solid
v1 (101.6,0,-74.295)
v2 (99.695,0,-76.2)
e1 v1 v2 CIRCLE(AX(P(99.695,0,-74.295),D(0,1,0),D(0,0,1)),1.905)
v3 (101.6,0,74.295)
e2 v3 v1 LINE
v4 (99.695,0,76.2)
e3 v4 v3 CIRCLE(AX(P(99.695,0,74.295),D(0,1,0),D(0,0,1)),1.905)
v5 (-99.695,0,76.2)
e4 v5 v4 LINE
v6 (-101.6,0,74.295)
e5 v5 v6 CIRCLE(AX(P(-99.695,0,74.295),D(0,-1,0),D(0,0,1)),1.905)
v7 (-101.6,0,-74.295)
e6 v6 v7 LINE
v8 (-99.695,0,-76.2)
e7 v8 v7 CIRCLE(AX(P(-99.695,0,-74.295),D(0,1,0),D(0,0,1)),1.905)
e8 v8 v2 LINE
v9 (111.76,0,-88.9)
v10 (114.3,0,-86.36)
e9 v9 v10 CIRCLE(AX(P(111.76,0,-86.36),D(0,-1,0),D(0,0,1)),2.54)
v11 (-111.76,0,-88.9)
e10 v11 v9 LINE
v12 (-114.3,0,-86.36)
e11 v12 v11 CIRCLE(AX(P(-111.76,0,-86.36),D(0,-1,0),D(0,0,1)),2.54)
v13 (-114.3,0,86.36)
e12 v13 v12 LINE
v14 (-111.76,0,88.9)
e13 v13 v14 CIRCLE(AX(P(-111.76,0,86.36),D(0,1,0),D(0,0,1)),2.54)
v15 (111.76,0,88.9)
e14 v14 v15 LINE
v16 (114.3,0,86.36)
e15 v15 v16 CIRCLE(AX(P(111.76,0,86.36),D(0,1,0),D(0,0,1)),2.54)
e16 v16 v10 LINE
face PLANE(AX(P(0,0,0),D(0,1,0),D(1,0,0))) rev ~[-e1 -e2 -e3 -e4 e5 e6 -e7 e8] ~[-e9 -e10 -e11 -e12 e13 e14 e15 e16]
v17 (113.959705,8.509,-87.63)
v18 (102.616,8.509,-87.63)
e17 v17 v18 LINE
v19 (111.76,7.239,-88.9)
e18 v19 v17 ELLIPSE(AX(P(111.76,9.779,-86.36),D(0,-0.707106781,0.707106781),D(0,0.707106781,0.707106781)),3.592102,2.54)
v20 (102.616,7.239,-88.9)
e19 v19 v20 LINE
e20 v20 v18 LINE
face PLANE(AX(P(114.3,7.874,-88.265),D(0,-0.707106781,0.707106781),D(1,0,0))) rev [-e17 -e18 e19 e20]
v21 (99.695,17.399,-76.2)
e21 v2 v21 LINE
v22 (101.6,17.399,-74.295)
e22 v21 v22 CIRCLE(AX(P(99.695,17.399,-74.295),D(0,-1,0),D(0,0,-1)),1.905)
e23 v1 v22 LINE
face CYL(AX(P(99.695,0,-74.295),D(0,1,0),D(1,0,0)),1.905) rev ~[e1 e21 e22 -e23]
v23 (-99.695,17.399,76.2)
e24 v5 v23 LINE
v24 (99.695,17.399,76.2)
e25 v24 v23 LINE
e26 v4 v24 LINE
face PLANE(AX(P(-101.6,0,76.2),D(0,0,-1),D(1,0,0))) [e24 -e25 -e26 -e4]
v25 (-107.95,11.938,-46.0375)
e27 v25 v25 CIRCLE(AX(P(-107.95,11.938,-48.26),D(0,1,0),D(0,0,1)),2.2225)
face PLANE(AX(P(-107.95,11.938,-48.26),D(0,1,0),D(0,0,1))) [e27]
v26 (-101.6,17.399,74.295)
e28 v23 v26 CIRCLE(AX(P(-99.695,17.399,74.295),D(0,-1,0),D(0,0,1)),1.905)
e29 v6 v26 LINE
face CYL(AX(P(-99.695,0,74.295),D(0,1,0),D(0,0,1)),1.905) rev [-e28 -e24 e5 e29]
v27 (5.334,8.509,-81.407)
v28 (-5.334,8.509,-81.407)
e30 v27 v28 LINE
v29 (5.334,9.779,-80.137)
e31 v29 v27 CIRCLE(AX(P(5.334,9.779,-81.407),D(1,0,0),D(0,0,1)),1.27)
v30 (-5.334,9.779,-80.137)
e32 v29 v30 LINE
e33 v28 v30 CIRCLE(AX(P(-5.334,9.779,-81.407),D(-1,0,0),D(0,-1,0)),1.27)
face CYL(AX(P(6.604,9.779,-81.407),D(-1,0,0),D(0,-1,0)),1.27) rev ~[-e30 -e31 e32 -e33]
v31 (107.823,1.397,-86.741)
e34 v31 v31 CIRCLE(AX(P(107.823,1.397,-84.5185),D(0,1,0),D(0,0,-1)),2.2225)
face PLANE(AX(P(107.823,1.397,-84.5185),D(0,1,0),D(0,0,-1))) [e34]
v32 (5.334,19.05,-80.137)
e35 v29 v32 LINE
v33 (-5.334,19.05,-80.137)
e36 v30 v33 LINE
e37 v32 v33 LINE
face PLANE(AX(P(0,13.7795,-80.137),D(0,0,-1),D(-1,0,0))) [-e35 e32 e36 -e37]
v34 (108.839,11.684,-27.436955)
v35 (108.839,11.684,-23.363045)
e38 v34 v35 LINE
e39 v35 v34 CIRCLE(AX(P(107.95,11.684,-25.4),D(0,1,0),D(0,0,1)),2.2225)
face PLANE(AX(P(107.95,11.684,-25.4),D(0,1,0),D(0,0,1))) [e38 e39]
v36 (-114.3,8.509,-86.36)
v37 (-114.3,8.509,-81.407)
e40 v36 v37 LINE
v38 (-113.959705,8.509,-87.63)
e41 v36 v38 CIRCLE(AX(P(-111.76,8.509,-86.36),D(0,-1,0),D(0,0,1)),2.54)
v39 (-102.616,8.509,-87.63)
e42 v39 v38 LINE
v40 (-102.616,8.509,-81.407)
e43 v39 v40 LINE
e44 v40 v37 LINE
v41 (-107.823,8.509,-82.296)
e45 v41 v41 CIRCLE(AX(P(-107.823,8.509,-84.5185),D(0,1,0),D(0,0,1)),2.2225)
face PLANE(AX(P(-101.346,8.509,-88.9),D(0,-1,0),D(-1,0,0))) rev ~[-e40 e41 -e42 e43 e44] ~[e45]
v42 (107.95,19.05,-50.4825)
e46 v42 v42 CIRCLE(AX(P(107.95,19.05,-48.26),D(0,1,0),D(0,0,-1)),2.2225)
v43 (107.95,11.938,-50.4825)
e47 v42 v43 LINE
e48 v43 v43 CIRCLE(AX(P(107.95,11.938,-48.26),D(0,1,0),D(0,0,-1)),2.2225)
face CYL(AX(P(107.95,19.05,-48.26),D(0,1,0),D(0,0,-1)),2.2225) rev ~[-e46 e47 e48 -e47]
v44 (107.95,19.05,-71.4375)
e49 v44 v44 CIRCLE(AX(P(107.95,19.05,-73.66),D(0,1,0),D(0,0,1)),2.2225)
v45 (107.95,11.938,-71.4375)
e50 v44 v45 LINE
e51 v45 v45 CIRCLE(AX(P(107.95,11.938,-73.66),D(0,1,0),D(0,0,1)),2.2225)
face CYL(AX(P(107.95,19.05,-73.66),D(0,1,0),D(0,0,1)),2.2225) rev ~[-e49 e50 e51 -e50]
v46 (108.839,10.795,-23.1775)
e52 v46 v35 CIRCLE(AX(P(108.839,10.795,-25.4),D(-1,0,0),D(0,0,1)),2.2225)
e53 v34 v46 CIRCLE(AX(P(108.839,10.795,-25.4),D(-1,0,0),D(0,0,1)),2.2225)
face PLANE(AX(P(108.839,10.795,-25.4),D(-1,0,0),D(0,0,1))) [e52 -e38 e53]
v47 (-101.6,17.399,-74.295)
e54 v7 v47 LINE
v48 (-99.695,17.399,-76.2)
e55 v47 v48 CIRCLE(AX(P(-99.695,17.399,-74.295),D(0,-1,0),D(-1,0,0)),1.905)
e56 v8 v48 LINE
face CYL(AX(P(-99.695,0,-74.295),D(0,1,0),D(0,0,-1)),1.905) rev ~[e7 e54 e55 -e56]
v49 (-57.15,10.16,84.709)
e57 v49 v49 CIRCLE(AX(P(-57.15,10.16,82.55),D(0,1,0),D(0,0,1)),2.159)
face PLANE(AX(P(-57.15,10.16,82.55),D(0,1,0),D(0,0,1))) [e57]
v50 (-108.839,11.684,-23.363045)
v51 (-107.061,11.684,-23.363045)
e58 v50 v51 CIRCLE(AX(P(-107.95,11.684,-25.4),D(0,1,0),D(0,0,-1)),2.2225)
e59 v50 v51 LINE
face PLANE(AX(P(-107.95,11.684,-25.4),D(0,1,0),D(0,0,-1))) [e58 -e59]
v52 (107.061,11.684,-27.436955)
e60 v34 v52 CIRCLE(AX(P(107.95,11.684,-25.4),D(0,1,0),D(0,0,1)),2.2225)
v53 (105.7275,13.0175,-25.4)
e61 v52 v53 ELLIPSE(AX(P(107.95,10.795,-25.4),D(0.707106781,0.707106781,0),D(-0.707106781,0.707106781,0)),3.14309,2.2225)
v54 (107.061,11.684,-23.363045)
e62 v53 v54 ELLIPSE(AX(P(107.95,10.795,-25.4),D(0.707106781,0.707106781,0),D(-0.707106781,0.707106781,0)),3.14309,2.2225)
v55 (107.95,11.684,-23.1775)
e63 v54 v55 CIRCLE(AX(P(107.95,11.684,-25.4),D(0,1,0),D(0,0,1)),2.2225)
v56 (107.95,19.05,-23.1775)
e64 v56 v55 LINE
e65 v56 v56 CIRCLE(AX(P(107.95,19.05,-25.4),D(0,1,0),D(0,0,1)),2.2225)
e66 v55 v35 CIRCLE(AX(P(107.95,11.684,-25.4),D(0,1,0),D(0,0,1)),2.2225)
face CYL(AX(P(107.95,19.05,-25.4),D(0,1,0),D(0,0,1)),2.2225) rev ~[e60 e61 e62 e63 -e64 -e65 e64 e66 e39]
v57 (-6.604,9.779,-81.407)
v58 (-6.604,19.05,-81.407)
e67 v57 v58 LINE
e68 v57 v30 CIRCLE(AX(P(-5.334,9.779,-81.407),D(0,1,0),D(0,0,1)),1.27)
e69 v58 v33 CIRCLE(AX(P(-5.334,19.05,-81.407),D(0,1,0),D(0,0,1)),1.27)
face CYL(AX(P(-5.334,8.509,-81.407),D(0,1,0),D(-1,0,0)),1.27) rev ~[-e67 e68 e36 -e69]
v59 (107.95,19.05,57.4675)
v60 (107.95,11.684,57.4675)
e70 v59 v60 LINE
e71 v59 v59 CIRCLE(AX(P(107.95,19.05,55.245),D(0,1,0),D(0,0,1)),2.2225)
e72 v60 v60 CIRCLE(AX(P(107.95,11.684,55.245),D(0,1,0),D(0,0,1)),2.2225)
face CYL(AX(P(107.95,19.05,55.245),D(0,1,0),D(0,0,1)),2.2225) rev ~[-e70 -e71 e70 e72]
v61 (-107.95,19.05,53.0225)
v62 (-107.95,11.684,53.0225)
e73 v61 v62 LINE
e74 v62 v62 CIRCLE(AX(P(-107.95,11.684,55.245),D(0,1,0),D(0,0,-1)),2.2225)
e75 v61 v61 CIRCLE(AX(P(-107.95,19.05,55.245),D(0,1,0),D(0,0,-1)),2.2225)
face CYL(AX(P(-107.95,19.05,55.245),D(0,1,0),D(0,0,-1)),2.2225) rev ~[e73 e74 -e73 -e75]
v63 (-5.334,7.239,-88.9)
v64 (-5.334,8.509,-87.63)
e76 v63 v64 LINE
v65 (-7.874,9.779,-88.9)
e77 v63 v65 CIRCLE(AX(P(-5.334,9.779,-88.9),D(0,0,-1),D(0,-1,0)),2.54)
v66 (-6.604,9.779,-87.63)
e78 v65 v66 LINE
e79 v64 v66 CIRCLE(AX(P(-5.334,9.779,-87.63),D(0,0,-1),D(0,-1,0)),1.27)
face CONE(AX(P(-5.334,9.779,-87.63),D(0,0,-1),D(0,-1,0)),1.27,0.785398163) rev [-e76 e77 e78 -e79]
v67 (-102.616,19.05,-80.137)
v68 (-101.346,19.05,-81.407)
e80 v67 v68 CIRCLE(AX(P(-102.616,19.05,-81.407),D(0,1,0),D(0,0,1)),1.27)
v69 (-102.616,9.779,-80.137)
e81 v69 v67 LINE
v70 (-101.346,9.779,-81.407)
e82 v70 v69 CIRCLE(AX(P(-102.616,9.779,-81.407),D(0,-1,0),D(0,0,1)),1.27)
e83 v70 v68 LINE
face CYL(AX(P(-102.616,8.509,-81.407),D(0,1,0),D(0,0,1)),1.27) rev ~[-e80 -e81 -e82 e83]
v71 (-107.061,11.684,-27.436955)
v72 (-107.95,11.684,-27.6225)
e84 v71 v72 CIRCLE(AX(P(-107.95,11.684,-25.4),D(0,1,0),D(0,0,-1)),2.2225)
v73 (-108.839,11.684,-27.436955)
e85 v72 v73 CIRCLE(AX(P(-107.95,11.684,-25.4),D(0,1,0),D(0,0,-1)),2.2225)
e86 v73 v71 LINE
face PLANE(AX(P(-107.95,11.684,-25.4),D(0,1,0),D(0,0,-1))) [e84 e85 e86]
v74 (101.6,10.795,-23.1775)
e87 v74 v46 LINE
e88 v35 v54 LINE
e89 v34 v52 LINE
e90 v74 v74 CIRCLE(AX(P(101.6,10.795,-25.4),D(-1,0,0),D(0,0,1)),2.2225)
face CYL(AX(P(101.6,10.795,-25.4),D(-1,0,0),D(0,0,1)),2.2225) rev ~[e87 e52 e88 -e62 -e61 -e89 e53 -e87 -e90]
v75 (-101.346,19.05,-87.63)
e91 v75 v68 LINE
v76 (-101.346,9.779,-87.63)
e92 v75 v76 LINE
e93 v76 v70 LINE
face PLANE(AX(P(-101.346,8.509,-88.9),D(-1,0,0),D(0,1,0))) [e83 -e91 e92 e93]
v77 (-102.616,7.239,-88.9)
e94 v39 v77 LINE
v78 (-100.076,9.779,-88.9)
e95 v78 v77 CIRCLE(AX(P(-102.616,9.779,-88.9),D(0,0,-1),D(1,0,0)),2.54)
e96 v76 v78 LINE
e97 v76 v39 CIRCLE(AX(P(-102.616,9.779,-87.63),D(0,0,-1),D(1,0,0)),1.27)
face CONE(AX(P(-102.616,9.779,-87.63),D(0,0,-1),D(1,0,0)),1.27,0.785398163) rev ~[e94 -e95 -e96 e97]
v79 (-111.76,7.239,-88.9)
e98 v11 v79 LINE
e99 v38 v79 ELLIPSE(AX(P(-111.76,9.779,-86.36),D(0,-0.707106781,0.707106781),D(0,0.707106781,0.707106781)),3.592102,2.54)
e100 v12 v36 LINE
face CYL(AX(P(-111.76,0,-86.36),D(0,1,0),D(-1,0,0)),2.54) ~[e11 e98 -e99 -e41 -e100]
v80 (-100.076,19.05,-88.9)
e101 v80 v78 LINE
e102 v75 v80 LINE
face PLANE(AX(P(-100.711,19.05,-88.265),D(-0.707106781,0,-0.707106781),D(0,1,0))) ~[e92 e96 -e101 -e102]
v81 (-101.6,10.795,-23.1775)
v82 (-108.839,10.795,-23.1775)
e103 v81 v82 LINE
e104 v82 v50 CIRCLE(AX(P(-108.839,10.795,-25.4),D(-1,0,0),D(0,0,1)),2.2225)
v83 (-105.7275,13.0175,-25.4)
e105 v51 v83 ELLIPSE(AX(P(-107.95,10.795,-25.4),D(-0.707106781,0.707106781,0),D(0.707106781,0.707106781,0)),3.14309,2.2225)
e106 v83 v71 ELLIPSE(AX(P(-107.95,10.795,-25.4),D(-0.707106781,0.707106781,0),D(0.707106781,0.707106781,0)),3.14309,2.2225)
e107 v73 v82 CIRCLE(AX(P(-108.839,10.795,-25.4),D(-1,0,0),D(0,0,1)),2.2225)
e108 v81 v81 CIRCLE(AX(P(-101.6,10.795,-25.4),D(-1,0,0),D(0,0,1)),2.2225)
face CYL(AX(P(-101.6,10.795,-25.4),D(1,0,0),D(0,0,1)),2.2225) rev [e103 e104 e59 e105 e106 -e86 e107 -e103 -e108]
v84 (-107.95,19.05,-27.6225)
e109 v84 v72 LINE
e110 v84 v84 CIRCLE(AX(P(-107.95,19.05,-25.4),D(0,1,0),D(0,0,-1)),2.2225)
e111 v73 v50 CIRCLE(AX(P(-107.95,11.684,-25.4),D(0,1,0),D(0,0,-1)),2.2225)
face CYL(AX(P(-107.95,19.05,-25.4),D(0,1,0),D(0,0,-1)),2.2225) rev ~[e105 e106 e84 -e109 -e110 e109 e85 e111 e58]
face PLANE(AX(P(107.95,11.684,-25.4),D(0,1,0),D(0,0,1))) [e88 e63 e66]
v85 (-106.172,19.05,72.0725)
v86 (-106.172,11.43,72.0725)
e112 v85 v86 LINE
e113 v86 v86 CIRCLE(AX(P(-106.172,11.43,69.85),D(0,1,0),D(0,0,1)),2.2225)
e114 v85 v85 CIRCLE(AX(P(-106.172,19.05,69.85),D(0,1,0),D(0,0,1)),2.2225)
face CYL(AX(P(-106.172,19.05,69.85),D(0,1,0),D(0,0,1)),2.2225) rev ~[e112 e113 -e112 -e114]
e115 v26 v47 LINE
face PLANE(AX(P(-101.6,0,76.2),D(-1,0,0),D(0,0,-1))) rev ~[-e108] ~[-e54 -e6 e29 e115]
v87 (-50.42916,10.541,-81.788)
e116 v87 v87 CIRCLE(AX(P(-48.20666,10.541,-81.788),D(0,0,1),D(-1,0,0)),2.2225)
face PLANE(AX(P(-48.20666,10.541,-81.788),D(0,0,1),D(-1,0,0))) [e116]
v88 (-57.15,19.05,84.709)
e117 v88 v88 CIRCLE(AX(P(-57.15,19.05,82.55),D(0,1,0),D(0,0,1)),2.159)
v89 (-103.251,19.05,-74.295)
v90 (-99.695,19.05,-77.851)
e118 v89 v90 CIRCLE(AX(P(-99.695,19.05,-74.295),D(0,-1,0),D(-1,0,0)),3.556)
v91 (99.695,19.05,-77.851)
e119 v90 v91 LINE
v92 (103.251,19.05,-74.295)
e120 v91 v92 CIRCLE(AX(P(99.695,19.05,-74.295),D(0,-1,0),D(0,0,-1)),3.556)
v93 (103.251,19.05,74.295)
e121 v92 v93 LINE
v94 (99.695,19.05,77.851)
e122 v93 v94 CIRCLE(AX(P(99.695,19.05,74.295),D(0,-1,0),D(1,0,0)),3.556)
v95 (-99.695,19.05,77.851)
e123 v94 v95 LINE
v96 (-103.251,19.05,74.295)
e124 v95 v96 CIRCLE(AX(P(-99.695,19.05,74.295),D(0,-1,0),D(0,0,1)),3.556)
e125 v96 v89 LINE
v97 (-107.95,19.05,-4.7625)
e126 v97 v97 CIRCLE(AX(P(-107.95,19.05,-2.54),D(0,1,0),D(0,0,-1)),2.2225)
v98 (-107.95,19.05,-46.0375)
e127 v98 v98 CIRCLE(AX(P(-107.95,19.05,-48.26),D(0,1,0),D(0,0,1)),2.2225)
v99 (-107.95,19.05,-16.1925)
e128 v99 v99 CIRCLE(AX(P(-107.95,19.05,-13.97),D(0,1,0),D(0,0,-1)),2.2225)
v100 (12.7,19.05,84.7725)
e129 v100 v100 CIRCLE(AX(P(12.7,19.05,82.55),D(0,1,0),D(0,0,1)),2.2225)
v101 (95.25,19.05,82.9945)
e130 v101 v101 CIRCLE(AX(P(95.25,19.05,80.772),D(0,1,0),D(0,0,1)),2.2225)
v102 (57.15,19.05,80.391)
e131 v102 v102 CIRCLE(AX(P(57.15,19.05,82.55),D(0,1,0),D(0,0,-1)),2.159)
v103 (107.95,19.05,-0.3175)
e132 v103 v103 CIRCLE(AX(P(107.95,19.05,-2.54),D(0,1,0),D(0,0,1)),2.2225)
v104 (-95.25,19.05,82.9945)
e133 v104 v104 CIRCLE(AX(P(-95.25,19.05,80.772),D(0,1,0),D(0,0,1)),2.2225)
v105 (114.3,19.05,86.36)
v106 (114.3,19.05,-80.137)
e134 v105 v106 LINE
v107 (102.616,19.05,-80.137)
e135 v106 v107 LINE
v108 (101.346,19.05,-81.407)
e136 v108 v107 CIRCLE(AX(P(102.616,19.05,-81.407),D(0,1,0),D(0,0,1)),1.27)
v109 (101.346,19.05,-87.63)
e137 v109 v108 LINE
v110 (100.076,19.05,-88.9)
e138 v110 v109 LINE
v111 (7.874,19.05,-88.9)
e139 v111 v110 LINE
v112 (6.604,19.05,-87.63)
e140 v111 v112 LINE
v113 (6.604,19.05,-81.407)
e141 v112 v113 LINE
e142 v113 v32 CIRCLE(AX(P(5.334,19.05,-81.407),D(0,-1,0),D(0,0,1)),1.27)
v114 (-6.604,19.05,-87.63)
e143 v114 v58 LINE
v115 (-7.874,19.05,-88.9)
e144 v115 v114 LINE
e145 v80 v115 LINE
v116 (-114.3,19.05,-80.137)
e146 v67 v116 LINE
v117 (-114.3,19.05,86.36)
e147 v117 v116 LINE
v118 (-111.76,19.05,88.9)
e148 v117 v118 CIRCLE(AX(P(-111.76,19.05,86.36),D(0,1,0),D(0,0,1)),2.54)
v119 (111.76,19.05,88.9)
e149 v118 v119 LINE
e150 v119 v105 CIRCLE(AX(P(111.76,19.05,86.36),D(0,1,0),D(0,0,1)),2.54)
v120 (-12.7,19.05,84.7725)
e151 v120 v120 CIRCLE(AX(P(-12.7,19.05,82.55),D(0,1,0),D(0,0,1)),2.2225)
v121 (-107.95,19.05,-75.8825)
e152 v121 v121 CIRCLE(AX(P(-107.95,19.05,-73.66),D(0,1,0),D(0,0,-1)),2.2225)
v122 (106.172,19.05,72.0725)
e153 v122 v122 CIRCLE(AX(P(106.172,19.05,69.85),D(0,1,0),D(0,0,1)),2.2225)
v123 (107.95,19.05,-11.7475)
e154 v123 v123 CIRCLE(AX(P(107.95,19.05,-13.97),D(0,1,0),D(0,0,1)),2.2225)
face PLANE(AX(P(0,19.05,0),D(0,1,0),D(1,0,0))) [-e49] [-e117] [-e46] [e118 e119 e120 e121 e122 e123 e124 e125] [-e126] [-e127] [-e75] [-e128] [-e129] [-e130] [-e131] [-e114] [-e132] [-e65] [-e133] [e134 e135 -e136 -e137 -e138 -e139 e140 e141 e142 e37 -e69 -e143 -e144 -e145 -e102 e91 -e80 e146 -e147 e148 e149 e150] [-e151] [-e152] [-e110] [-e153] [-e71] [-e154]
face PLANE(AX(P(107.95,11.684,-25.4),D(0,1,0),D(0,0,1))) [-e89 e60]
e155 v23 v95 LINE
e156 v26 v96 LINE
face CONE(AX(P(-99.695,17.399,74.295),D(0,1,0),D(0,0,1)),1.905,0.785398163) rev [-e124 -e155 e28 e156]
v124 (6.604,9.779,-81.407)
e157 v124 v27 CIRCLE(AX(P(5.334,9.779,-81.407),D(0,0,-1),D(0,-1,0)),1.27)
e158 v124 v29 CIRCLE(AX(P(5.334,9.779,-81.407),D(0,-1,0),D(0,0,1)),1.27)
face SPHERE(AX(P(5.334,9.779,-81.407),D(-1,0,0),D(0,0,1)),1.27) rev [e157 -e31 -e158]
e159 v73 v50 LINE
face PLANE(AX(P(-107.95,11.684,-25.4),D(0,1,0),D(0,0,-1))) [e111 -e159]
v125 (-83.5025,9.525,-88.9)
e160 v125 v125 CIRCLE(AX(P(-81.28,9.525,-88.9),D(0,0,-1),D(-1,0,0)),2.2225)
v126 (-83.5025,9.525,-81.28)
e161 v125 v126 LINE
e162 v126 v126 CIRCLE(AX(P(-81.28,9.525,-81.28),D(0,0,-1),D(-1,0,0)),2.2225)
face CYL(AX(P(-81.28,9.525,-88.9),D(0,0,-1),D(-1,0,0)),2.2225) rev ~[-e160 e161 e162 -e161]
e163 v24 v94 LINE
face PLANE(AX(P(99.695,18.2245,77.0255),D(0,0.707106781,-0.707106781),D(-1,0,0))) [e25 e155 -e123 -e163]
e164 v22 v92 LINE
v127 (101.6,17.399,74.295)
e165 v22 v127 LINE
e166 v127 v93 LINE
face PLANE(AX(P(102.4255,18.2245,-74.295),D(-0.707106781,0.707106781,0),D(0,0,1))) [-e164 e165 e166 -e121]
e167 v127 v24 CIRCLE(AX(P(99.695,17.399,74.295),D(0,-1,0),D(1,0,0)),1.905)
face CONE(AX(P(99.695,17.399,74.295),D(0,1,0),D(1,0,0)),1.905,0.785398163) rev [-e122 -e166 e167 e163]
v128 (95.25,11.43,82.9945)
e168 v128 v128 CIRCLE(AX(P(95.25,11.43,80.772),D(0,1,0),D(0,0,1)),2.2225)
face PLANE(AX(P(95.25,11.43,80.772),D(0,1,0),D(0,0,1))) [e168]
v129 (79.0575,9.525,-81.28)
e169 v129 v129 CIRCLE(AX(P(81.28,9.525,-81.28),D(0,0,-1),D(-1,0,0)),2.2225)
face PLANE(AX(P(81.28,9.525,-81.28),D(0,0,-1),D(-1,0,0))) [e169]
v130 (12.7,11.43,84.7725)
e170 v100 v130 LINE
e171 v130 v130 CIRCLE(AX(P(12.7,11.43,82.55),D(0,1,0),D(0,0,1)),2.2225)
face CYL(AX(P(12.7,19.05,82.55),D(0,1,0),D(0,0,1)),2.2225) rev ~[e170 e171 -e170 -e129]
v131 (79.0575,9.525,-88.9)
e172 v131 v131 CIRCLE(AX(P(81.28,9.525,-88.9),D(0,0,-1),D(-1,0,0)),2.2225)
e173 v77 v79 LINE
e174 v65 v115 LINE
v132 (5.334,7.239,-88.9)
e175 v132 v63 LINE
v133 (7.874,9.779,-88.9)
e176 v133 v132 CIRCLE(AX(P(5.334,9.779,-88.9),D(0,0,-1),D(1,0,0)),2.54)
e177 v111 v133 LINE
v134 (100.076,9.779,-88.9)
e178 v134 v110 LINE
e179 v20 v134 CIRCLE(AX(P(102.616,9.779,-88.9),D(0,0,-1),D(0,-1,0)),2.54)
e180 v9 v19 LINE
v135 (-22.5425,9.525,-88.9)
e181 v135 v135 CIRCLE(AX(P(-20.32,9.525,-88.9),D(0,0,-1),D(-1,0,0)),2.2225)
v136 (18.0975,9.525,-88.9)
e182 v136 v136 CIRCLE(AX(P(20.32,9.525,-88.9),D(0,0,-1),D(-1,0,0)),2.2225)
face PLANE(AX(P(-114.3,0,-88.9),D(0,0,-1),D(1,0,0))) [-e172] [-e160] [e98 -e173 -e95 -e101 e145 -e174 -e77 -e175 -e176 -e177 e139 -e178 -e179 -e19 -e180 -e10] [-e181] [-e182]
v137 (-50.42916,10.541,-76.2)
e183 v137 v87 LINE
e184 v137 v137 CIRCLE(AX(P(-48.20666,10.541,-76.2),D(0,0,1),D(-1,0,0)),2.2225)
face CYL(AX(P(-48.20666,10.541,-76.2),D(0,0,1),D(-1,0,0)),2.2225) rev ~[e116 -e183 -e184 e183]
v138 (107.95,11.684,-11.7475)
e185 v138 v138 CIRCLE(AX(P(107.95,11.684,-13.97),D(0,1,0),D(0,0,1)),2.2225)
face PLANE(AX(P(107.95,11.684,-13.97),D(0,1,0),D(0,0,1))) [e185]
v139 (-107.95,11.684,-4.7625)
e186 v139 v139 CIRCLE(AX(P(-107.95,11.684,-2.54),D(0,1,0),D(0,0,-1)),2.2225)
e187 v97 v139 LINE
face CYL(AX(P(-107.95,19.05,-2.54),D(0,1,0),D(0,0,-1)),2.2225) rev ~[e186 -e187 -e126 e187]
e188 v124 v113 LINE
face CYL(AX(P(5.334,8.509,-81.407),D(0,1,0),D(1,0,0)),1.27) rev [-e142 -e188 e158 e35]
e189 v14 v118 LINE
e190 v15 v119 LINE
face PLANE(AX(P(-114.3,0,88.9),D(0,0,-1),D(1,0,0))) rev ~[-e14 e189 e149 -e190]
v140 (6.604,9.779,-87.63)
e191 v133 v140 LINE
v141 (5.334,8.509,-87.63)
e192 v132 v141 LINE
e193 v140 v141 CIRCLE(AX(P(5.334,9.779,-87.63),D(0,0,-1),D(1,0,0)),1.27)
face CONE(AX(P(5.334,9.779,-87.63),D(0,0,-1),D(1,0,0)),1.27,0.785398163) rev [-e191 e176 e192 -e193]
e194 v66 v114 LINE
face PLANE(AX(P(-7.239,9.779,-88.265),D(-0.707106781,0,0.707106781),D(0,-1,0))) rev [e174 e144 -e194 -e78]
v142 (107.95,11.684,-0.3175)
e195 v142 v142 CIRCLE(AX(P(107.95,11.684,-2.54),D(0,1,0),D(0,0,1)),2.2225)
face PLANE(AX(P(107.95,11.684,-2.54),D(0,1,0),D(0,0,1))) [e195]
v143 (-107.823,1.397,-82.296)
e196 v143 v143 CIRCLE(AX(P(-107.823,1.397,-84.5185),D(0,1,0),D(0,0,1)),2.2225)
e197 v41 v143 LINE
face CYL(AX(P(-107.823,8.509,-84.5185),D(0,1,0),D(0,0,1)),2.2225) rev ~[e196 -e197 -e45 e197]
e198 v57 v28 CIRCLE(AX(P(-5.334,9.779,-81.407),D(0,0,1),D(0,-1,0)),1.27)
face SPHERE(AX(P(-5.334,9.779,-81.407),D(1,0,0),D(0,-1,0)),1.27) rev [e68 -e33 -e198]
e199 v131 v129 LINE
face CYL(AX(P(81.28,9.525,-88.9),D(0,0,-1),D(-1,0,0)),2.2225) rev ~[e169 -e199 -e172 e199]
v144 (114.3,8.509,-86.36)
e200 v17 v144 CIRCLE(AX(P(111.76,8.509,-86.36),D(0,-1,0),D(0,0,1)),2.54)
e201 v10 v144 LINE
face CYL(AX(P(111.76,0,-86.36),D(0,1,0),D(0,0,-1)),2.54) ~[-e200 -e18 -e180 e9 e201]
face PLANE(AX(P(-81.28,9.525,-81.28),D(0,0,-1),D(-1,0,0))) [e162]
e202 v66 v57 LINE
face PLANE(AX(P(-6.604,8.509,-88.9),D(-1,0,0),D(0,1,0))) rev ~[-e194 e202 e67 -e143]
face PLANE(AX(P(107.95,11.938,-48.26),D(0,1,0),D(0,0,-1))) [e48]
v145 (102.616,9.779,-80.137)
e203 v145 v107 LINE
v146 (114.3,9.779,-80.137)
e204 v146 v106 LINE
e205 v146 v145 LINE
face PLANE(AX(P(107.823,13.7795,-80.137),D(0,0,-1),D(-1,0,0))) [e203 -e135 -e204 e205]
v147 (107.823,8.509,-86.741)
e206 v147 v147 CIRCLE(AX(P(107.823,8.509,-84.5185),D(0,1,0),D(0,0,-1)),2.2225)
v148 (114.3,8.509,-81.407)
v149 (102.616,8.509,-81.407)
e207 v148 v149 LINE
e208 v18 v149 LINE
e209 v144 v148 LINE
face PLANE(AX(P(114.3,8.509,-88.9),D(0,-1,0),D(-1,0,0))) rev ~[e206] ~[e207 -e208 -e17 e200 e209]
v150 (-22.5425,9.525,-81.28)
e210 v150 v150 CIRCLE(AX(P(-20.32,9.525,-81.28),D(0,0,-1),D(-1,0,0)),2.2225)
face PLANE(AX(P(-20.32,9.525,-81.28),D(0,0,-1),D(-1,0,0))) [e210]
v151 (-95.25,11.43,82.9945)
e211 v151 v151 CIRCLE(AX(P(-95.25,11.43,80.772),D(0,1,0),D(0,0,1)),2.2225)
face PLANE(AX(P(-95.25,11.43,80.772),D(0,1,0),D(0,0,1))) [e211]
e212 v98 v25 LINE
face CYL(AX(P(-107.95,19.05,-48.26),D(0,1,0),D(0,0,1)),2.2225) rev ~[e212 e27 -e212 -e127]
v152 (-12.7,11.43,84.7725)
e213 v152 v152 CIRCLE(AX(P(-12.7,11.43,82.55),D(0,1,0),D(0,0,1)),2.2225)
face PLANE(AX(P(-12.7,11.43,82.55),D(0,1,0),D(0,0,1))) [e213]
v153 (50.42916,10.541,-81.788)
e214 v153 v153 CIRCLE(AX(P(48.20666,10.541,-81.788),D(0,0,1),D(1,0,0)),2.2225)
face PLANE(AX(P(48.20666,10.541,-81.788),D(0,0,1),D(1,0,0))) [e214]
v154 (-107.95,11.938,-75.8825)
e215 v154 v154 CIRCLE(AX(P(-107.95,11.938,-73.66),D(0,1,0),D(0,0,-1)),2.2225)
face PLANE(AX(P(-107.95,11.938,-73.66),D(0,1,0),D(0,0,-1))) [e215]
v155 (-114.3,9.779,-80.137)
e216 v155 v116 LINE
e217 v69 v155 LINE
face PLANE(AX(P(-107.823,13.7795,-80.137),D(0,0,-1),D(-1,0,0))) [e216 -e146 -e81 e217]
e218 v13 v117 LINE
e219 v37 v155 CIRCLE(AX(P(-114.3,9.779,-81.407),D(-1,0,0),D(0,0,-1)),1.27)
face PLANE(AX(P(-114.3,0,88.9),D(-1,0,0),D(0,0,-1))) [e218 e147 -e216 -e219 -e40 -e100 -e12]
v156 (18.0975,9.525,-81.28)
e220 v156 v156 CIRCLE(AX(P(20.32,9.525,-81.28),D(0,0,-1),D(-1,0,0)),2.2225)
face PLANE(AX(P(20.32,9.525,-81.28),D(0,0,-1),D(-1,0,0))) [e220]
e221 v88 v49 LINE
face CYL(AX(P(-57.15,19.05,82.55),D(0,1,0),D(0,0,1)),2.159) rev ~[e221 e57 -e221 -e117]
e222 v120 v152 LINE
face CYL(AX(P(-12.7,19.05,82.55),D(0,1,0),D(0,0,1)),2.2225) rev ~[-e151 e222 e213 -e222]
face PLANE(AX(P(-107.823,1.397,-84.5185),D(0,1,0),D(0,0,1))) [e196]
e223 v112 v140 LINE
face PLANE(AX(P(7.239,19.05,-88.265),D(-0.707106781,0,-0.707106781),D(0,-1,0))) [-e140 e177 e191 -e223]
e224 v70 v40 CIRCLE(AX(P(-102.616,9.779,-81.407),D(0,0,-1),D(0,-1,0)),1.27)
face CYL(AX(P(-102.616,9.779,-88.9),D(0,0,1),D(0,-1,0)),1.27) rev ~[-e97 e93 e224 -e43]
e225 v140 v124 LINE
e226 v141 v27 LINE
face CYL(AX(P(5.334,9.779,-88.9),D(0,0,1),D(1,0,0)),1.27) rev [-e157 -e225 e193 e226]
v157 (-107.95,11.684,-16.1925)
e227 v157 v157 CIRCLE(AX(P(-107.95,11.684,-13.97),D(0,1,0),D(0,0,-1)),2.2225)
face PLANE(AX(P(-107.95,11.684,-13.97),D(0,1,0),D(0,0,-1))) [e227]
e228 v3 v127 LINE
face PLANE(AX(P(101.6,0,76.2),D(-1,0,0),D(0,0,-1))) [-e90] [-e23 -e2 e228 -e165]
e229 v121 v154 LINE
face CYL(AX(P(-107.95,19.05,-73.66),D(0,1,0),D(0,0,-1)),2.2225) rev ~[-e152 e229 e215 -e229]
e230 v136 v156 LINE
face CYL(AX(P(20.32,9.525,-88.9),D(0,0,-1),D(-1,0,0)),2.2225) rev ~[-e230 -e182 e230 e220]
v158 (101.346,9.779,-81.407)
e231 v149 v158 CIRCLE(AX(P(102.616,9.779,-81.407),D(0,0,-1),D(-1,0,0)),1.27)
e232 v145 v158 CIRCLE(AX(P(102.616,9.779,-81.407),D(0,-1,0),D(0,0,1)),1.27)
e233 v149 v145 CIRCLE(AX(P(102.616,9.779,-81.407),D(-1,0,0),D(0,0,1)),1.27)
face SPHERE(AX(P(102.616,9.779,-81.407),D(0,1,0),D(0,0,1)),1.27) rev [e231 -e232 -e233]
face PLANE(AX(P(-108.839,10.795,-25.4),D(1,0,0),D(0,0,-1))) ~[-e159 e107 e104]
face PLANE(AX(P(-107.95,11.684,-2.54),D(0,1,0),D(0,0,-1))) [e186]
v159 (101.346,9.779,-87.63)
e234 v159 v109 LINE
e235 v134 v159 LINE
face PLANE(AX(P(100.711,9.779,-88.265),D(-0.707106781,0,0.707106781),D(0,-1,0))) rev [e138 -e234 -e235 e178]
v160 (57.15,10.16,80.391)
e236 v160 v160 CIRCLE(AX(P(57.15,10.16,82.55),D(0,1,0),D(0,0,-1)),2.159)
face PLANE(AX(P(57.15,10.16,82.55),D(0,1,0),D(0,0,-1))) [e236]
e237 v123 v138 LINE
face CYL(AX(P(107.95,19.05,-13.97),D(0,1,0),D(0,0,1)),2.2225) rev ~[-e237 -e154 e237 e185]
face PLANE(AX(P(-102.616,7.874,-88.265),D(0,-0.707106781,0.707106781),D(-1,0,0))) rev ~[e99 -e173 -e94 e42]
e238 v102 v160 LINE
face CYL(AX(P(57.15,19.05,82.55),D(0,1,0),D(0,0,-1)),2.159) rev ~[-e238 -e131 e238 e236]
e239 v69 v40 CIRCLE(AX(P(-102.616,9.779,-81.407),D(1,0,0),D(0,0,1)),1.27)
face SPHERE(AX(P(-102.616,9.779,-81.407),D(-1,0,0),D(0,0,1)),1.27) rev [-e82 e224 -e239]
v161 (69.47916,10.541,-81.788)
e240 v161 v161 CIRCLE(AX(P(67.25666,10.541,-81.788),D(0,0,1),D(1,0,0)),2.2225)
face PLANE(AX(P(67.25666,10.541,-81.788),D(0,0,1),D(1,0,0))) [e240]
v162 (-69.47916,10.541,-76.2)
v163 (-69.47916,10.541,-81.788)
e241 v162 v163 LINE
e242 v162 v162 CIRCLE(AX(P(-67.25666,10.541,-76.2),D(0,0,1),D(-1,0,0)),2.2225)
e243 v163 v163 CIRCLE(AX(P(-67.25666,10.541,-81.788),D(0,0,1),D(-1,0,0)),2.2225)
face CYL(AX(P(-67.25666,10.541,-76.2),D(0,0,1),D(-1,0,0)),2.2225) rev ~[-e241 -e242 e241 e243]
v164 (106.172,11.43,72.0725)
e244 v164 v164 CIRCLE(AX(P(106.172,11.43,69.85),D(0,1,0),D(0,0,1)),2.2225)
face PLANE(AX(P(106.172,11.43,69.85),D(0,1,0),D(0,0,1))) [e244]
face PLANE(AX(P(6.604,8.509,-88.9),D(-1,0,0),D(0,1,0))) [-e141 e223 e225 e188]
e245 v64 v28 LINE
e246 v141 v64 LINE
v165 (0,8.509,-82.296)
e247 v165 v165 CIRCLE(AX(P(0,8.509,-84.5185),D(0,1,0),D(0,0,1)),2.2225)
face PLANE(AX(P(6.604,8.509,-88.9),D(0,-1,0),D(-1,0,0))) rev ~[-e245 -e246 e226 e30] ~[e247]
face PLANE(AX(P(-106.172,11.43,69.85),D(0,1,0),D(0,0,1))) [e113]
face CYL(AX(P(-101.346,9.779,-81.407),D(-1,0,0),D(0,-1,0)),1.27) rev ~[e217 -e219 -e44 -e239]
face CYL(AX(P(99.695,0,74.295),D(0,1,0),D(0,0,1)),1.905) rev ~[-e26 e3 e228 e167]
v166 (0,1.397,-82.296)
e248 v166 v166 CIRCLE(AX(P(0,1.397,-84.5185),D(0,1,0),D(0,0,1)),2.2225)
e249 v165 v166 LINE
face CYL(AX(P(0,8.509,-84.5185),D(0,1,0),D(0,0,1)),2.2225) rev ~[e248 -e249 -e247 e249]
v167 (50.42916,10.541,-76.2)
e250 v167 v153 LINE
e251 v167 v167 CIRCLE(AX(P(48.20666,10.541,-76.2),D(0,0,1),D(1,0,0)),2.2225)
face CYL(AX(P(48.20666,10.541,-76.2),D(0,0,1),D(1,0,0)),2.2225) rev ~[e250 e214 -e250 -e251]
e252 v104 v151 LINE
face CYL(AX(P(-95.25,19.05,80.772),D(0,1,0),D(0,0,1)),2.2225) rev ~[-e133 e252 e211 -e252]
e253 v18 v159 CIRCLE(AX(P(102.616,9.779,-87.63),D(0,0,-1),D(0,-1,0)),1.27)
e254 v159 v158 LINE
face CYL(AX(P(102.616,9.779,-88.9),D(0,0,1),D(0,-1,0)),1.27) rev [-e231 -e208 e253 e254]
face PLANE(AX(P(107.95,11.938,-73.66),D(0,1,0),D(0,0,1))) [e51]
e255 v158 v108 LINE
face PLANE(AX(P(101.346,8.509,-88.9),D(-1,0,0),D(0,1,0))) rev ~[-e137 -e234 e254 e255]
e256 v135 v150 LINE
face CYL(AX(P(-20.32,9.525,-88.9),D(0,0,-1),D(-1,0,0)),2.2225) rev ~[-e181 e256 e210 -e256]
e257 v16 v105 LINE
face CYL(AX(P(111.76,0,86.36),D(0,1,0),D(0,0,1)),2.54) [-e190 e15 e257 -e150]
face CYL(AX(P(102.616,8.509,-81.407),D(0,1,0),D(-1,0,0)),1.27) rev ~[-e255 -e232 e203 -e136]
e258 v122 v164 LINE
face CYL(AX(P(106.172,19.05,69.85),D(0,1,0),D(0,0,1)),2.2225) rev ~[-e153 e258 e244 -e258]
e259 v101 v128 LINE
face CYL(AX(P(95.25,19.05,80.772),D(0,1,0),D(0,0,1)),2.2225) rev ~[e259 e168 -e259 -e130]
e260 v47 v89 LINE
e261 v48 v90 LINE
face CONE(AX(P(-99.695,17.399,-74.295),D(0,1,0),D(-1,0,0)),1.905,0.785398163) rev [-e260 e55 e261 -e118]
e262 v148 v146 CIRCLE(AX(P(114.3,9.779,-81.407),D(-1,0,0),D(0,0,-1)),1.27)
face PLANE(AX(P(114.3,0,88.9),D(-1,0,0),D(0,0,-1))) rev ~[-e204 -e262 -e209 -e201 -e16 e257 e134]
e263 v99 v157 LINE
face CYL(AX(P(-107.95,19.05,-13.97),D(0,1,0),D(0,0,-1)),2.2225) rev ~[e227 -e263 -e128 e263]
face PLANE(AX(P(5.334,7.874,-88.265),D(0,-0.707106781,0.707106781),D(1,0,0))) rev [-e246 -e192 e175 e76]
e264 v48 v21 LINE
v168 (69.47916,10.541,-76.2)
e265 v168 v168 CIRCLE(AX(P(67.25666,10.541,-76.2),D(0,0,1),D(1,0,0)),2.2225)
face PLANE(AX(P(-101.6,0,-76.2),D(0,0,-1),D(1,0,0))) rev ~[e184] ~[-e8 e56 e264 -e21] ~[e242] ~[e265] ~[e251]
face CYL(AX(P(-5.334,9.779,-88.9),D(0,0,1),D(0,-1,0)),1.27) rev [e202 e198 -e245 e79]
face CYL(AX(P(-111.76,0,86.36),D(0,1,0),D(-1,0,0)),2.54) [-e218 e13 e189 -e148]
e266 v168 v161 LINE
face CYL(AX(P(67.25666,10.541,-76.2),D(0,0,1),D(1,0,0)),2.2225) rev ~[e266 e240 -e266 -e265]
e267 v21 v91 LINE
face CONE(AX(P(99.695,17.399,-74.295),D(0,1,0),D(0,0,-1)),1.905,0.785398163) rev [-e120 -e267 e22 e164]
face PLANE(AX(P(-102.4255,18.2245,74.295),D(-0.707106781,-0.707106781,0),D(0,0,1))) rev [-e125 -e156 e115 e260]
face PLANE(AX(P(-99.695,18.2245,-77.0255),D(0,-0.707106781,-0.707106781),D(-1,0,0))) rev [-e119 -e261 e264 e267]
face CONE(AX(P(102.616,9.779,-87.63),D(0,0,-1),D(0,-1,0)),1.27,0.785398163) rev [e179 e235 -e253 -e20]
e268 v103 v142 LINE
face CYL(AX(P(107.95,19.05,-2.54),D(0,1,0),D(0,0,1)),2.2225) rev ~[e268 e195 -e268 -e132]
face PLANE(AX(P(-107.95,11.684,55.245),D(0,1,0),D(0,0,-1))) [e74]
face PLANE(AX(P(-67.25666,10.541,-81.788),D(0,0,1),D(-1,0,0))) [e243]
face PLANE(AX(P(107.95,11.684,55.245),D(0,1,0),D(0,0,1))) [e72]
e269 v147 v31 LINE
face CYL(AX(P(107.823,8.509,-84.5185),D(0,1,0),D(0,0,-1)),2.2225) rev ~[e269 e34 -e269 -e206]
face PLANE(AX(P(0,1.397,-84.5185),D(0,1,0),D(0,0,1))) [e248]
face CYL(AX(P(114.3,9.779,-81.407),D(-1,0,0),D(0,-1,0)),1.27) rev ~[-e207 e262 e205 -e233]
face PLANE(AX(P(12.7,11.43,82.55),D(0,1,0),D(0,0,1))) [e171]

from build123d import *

# Parameters (mm, degrees)
SKETCH1_W                    = 228.6
SKETCH1_H                    = 177.8
SKETCH1_W_2                  = 203.2
SKETCH1_H_2                  = 152.4
BOSS_EXTRUDE1_DEPTH          = 19.05
SKETCH2_W                    = 12.954
SKETCH2_H                    = 10.541
SKETCH2_W_2                  = 13.208
CUT_EXTRUDE1_DEPTH           = 8.763
SKETCH3_R                    = 2.2225
FRONT_BASE_MOUNTHOLES_DEPTH  = 7.112
FILLET2_R                    = 1.27
CHAMFER1_SIZE                = 1.27
SKETCH4_R                    = 2.2225
FRONT_BASE_MOUNTHOLES2_DEPTH = 7.62
SKETCH5_R                    = 2.2225
REAR_WALL_MOUNTHOLES_DEPTH   = 7.62
FILLET3_R                    = 1.905
SKETCH6_R                    = 2.2225
MOTOR_MOUNT_HOLES_DEPTH      = 7.366
CHAMFER2_SIZE                = 1.651
SKETCH7_R                    = 2.2225
REARBRACE_MOUNTHOLES_DEPTH   = 7.62
SKETCH8_R                    = 2.2225
SIDEBRACE_MOUNTHOLES_DEPTH   = 7.112
SKETCH9_R                    = 2.159
BATTERYMOUNT_HOLES_DEPTH     = 8.89
FILLET4_R                    = 2.54
SKETCH10_R                   = 2.2225
MOTOR_BRACE_MOUNTHOLES_DEPTH = 5.588
SKETCH11_R                   = 2.2225
DRIVETRAIN_BRACE2HOLE_DEPTH  = 7.239


with BuildPart() as part:
    # Sketch1 → Boss-Extrude1 (new body)
    with BuildSketch(Plane(origin=(0, 0, 0), x_dir=(1, 0, 0), z_dir=(0, 1, 0))):
        Rectangle(SKETCH1_W, SKETCH1_H)
        Rectangle(SKETCH1_W_2, SKETCH1_H_2, mode=Mode.SUBTRACT)
    extrude(amount=BOSS_EXTRUDE1_DEPTH)

    # Sketch2 → Cut-Extrude1 (cut)
    with BuildSketch(Plane(origin=(0, 0, -88.9), x_dir=(-1, 0, 0), z_dir=(0, 0, -1))):
        with Locations((107.823, 13.7795)):
            Rectangle(SKETCH2_W, SKETCH2_H)
        with Locations((0, 13.7795)):
            Rectangle(SKETCH2_W_2, SKETCH2_H)
        with Locations((-107.823, 13.7795)):
            Rectangle(SKETCH2_W, SKETCH2_H)
    extrude(amount=-CUT_EXTRUDE1_DEPTH, mode=Mode.SUBTRACT)

    # Sketch3 → Front-Base-MountHoles (cut)
    with BuildSketch(Plane(origin=(0, 8.509, 0), x_dir=(1, 0, 0), z_dir=(0, 1, 0))):
        with Locations(Location((-107.823, 84.5185, 0), (0, 0, 270))):
            Circle(SKETCH3_R)
        with Locations(Location((0, 84.5185, 0), (0, 0, 270))):
            Circle(SKETCH3_R)
        with Locations(Location((107.823, 84.5185, 0), (0, 0, 90))):
            Circle(SKETCH3_R)
    extrude(amount=-FRONT_BASE_MOUNTHOLES_DEPTH, mode=Mode.SUBTRACT)

    # Fillet2
    fillet2_edges = [part.edges().sort_by_distance(p)[0] for p in [
        (-107.823, 8.509, -80.137),
        (-101.346, 13.7795, -80.137),
        (-101.346, 8.509, -84.5185),
        (0, 8.509, -80.137),
        (-6.604, 8.509, -84.5185),
        (6.604, 13.7795, -80.137),
        (6.604, 8.509, -84.5185),
        (-6.604, 13.7795, -80.137),
        (101.346, 13.7795, -80.137),
        (107.823, 8.509, -80.137),
        (101.346, 8.509, -84.5185),
    ]]
    fillet(fillet2_edges, radius=FILLET2_R)

    # Chamfer1
    chamfer1_edges = [part.edges().sort_by_distance(p)[0] for p in [
        (-108.458, 8.509, -88.9),
        (101.717974388, 8.880974388, -88.9),
        (-6.232025612, 8.880974388, -88.9),
        (6.232025612, 8.880974388, -88.9),
        (-101.717974388, 8.880974388, -88.9),
        (-101.346, 14.4145, -88.9),
        (6.604, 14.4145, -88.9),
        (108.458, 8.509, -88.9),
        (101.346, 14.4145, -88.9),
        (-6.604, 14.4145, -88.9),
        (0, 8.509, -88.9),
    ]]
    chamfer(chamfer1_edges, length=CHAMFER1_SIZE)

    # Sketch4 → Front-base-MountHoles2 (cut)
    with BuildSketch(Plane(origin=(0, 0, -88.9), x_dir=(-1, 0, 0), z_dir=(0, 0, -1))):
        with Locations((-20.32, 9.525)):
            Circle(SKETCH4_R)
        with Locations((-81.28, 9.525)):
            Circle(SKETCH4_R)
        with Locations((81.28, 9.525)):
            Circle(SKETCH4_R)
        with Locations((20.32, 9.525)):
            Circle(SKETCH4_R)
    extrude(amount=-FRONT_BASE_MOUNTHOLES2_DEPTH, mode=Mode.SUBTRACT)

    # Sketch5 → Rear-Wall-MountHoles (cut)
    with BuildSketch(Plane(origin=(0, 19.05, 0), x_dir=(1, 0, 0), z_dir=(0, 1, 0))):
        with Locations(Location((-95.25, -80.772, 0), (0, 0, 270))):
            Circle(SKETCH5_R)
        with Locations(Location((-106.172, -69.85, 0), (0, 0, 270))):
            Circle(SKETCH5_R)
        with Locations(Location((106.172, -69.85, 0), (0, 0, 270))):
            Circle(SKETCH5_R)
        with Locations(Location((95.25, -80.772, 0), (0, 0, 270))):
            Circle(SKETCH5_R)
    extrude(amount=-REAR_WALL_MOUNTHOLES_DEPTH, mode=Mode.SUBTRACT)

    # Fillet3
    fillet3_edges = [part.edges().sort_by_distance(p)[0] for p in [
        (101.6, 9.525, 76.2),
        (101.6, 9.525, -76.2),
        (-101.6, 9.525, -76.2),
        (-101.6, 9.525, 76.2),
    ]]
    fillet(fillet3_edges, radius=FILLET3_R)

    # Sketch6 → Motor_Mount_Holes (cut)
    with BuildSketch(Plane(origin=(0, 19.05, 0), x_dir=(1, 0, 0), z_dir=(0, 1, 0))):
        with Locations(Location((107.95, -55.245, 0), (0, 0, 270))):
            Circle(SKETCH6_R)
        with Locations(Location((107.95, 2.54, 0), (0, 0, 270))):
            Circle(SKETCH6_R)
        with Locations(Location((107.95, 13.97, 0), (0, 0, 270))):
            Circle(SKETCH6_R)
        with Locations(Location((107.95, 25.4, 0), (0, 0, 270))):
            Circle(SKETCH6_R)
        with Locations(Location((-107.95, 25.4, 0), (0, 0, 90))):
            Circle(SKETCH6_R)
        with Locations(Location((-107.95, 13.97, 0), (0, 0, 90))):
            Circle(SKETCH6_R)
        with Locations(Location((-107.95, 2.54, 0), (0, 0, 90))):
            Circle(SKETCH6_R)
        with Locations(Location((-107.95, -55.245, 0), (0, 0, 90))):
            Circle(SKETCH6_R)
    extrude(amount=-MOTOR_MOUNT_HOLES_DEPTH, mode=Mode.SUBTRACT)

    # Chamfer2
    chamfer2_edges = [part.edges().sort_by_distance(p)[0] for p in [
        (-101.6, 19.05, 0),
        (0, 19.05, 76.2),
        (101.6, 19.05, 0),
        (0, 19.05, -76.2),
        (-101.042038418, 19.05, 75.642038418),
        (101.042038418, 19.05, 75.642038418),
        (101.042038418, 19.05, -75.642038418),
        (-101.042038418, 19.05, -75.642038418),
    ]]
    chamfer(chamfer2_edges, length=CHAMFER2_SIZE)

    # Sketch7 → RearBrace_MountHoles (cut)
    with BuildSketch(Plane(origin=(0, 19.05, 0), x_dir=(1, 0, 0), z_dir=(0, 1, 0))):
        with Locations(Location((-12.7, -82.55, 0), (0, 0, 270))):
            Circle(SKETCH7_R)
        with Locations(Location((12.7, -82.55, 0), (0, 0, 270))):
            Circle(SKETCH7_R)
    extrude(amount=-REARBRACE_MOUNTHOLES_DEPTH, mode=Mode.SUBTRACT)

    # Sketch8 → SideBrace_MountHoles (cut)
    with BuildSketch(Plane(origin=(0, 19.05, 0), x_dir=(1, 0, 0), z_dir=(0, 1, 0))):
        with Locations(Location((107.95, 73.66, 0), (0, 0, 270))):
            Circle(SKETCH8_R)
        with Locations(Location((107.95, 48.26, 0), (0, 0, 90))):
            Circle(SKETCH8_R)
        with Locations(Location((-107.95, 48.26, 0), (0, 0, 270))):
            Circle(SKETCH8_R)
        with Locations(Location((-107.95, 73.66, 0), (0, 0, 90))):
            Circle(SKETCH8_R)
    extrude(amount=-SIDEBRACE_MOUNTHOLES_DEPTH, mode=Mode.SUBTRACT)

    # Sketch9 → BatteryMount_Holes (cut)
    with BuildSketch(Plane(origin=(0, 19.05, 0), x_dir=(1, 0, 0), z_dir=(0, 1, 0))):
        with Locations(Location((-57.15, -82.55, 0), (0, 0, 270))):
            Circle(SKETCH9_R)
        with Locations(Location((57.15, -82.55, 0), (0, 0, 90))):
            Circle(SKETCH9_R)
    extrude(amount=-BATTERYMOUNT_HOLES_DEPTH, mode=Mode.SUBTRACT)

    # Fillet4
    fillet4_edges = [part.edges().sort_by_distance(p)[0] for p in [
        (-114.3, 3.6195, -88.9),
        (114.3, 3.6195, -88.9),
        (-114.3, 9.525, 88.9),
        (114.3, 9.525, 88.9),
    ]]
    fillet(fillet4_edges, radius=FILLET4_R)

    # Sketch10 → Motor-Brace-MountHoles (cut)
    with BuildSketch(Plane.XY.offset(-76.2)):
        with Locations((48.20666, 10.541)):
            Circle(SKETCH10_R)
        with Locations((67.25666, 10.541)):
            Circle(SKETCH10_R)
        with Locations(Location((-67.25666, 10.541, 0), (0, 0, 180))):
            Circle(SKETCH10_R)
        with Locations(Location((-48.20666, 10.541, 0), (0, 0, 180))):
            Circle(SKETCH10_R)
    extrude(amount=-MOTOR_BRACE_MOUNTHOLES_DEPTH, mode=Mode.SUBTRACT)

    # Sketch11 → DriveTrain-Brace2Hole (cut)
    with BuildSketch(Plane.ZY.offset(-101.6)):
        with Locations((-25.4, 10.795)):
            Circle(SKETCH11_R)
    drivetrain_brace2hole = extrude(amount=-DRIVETRAIN_BRACE2HOLE_DEPTH, mode=Mode.SUBTRACT)

    # Mirror1: DriveTrain-Brace2Hole across plane
    add(drivetrain_brace2hole.mirror(Plane(origin=(0, 0, 0), x_dir=(0, 0, 1), z_dir=(1, 0, 0))), mode=Mode.SUBTRACT)


solid = part.part
